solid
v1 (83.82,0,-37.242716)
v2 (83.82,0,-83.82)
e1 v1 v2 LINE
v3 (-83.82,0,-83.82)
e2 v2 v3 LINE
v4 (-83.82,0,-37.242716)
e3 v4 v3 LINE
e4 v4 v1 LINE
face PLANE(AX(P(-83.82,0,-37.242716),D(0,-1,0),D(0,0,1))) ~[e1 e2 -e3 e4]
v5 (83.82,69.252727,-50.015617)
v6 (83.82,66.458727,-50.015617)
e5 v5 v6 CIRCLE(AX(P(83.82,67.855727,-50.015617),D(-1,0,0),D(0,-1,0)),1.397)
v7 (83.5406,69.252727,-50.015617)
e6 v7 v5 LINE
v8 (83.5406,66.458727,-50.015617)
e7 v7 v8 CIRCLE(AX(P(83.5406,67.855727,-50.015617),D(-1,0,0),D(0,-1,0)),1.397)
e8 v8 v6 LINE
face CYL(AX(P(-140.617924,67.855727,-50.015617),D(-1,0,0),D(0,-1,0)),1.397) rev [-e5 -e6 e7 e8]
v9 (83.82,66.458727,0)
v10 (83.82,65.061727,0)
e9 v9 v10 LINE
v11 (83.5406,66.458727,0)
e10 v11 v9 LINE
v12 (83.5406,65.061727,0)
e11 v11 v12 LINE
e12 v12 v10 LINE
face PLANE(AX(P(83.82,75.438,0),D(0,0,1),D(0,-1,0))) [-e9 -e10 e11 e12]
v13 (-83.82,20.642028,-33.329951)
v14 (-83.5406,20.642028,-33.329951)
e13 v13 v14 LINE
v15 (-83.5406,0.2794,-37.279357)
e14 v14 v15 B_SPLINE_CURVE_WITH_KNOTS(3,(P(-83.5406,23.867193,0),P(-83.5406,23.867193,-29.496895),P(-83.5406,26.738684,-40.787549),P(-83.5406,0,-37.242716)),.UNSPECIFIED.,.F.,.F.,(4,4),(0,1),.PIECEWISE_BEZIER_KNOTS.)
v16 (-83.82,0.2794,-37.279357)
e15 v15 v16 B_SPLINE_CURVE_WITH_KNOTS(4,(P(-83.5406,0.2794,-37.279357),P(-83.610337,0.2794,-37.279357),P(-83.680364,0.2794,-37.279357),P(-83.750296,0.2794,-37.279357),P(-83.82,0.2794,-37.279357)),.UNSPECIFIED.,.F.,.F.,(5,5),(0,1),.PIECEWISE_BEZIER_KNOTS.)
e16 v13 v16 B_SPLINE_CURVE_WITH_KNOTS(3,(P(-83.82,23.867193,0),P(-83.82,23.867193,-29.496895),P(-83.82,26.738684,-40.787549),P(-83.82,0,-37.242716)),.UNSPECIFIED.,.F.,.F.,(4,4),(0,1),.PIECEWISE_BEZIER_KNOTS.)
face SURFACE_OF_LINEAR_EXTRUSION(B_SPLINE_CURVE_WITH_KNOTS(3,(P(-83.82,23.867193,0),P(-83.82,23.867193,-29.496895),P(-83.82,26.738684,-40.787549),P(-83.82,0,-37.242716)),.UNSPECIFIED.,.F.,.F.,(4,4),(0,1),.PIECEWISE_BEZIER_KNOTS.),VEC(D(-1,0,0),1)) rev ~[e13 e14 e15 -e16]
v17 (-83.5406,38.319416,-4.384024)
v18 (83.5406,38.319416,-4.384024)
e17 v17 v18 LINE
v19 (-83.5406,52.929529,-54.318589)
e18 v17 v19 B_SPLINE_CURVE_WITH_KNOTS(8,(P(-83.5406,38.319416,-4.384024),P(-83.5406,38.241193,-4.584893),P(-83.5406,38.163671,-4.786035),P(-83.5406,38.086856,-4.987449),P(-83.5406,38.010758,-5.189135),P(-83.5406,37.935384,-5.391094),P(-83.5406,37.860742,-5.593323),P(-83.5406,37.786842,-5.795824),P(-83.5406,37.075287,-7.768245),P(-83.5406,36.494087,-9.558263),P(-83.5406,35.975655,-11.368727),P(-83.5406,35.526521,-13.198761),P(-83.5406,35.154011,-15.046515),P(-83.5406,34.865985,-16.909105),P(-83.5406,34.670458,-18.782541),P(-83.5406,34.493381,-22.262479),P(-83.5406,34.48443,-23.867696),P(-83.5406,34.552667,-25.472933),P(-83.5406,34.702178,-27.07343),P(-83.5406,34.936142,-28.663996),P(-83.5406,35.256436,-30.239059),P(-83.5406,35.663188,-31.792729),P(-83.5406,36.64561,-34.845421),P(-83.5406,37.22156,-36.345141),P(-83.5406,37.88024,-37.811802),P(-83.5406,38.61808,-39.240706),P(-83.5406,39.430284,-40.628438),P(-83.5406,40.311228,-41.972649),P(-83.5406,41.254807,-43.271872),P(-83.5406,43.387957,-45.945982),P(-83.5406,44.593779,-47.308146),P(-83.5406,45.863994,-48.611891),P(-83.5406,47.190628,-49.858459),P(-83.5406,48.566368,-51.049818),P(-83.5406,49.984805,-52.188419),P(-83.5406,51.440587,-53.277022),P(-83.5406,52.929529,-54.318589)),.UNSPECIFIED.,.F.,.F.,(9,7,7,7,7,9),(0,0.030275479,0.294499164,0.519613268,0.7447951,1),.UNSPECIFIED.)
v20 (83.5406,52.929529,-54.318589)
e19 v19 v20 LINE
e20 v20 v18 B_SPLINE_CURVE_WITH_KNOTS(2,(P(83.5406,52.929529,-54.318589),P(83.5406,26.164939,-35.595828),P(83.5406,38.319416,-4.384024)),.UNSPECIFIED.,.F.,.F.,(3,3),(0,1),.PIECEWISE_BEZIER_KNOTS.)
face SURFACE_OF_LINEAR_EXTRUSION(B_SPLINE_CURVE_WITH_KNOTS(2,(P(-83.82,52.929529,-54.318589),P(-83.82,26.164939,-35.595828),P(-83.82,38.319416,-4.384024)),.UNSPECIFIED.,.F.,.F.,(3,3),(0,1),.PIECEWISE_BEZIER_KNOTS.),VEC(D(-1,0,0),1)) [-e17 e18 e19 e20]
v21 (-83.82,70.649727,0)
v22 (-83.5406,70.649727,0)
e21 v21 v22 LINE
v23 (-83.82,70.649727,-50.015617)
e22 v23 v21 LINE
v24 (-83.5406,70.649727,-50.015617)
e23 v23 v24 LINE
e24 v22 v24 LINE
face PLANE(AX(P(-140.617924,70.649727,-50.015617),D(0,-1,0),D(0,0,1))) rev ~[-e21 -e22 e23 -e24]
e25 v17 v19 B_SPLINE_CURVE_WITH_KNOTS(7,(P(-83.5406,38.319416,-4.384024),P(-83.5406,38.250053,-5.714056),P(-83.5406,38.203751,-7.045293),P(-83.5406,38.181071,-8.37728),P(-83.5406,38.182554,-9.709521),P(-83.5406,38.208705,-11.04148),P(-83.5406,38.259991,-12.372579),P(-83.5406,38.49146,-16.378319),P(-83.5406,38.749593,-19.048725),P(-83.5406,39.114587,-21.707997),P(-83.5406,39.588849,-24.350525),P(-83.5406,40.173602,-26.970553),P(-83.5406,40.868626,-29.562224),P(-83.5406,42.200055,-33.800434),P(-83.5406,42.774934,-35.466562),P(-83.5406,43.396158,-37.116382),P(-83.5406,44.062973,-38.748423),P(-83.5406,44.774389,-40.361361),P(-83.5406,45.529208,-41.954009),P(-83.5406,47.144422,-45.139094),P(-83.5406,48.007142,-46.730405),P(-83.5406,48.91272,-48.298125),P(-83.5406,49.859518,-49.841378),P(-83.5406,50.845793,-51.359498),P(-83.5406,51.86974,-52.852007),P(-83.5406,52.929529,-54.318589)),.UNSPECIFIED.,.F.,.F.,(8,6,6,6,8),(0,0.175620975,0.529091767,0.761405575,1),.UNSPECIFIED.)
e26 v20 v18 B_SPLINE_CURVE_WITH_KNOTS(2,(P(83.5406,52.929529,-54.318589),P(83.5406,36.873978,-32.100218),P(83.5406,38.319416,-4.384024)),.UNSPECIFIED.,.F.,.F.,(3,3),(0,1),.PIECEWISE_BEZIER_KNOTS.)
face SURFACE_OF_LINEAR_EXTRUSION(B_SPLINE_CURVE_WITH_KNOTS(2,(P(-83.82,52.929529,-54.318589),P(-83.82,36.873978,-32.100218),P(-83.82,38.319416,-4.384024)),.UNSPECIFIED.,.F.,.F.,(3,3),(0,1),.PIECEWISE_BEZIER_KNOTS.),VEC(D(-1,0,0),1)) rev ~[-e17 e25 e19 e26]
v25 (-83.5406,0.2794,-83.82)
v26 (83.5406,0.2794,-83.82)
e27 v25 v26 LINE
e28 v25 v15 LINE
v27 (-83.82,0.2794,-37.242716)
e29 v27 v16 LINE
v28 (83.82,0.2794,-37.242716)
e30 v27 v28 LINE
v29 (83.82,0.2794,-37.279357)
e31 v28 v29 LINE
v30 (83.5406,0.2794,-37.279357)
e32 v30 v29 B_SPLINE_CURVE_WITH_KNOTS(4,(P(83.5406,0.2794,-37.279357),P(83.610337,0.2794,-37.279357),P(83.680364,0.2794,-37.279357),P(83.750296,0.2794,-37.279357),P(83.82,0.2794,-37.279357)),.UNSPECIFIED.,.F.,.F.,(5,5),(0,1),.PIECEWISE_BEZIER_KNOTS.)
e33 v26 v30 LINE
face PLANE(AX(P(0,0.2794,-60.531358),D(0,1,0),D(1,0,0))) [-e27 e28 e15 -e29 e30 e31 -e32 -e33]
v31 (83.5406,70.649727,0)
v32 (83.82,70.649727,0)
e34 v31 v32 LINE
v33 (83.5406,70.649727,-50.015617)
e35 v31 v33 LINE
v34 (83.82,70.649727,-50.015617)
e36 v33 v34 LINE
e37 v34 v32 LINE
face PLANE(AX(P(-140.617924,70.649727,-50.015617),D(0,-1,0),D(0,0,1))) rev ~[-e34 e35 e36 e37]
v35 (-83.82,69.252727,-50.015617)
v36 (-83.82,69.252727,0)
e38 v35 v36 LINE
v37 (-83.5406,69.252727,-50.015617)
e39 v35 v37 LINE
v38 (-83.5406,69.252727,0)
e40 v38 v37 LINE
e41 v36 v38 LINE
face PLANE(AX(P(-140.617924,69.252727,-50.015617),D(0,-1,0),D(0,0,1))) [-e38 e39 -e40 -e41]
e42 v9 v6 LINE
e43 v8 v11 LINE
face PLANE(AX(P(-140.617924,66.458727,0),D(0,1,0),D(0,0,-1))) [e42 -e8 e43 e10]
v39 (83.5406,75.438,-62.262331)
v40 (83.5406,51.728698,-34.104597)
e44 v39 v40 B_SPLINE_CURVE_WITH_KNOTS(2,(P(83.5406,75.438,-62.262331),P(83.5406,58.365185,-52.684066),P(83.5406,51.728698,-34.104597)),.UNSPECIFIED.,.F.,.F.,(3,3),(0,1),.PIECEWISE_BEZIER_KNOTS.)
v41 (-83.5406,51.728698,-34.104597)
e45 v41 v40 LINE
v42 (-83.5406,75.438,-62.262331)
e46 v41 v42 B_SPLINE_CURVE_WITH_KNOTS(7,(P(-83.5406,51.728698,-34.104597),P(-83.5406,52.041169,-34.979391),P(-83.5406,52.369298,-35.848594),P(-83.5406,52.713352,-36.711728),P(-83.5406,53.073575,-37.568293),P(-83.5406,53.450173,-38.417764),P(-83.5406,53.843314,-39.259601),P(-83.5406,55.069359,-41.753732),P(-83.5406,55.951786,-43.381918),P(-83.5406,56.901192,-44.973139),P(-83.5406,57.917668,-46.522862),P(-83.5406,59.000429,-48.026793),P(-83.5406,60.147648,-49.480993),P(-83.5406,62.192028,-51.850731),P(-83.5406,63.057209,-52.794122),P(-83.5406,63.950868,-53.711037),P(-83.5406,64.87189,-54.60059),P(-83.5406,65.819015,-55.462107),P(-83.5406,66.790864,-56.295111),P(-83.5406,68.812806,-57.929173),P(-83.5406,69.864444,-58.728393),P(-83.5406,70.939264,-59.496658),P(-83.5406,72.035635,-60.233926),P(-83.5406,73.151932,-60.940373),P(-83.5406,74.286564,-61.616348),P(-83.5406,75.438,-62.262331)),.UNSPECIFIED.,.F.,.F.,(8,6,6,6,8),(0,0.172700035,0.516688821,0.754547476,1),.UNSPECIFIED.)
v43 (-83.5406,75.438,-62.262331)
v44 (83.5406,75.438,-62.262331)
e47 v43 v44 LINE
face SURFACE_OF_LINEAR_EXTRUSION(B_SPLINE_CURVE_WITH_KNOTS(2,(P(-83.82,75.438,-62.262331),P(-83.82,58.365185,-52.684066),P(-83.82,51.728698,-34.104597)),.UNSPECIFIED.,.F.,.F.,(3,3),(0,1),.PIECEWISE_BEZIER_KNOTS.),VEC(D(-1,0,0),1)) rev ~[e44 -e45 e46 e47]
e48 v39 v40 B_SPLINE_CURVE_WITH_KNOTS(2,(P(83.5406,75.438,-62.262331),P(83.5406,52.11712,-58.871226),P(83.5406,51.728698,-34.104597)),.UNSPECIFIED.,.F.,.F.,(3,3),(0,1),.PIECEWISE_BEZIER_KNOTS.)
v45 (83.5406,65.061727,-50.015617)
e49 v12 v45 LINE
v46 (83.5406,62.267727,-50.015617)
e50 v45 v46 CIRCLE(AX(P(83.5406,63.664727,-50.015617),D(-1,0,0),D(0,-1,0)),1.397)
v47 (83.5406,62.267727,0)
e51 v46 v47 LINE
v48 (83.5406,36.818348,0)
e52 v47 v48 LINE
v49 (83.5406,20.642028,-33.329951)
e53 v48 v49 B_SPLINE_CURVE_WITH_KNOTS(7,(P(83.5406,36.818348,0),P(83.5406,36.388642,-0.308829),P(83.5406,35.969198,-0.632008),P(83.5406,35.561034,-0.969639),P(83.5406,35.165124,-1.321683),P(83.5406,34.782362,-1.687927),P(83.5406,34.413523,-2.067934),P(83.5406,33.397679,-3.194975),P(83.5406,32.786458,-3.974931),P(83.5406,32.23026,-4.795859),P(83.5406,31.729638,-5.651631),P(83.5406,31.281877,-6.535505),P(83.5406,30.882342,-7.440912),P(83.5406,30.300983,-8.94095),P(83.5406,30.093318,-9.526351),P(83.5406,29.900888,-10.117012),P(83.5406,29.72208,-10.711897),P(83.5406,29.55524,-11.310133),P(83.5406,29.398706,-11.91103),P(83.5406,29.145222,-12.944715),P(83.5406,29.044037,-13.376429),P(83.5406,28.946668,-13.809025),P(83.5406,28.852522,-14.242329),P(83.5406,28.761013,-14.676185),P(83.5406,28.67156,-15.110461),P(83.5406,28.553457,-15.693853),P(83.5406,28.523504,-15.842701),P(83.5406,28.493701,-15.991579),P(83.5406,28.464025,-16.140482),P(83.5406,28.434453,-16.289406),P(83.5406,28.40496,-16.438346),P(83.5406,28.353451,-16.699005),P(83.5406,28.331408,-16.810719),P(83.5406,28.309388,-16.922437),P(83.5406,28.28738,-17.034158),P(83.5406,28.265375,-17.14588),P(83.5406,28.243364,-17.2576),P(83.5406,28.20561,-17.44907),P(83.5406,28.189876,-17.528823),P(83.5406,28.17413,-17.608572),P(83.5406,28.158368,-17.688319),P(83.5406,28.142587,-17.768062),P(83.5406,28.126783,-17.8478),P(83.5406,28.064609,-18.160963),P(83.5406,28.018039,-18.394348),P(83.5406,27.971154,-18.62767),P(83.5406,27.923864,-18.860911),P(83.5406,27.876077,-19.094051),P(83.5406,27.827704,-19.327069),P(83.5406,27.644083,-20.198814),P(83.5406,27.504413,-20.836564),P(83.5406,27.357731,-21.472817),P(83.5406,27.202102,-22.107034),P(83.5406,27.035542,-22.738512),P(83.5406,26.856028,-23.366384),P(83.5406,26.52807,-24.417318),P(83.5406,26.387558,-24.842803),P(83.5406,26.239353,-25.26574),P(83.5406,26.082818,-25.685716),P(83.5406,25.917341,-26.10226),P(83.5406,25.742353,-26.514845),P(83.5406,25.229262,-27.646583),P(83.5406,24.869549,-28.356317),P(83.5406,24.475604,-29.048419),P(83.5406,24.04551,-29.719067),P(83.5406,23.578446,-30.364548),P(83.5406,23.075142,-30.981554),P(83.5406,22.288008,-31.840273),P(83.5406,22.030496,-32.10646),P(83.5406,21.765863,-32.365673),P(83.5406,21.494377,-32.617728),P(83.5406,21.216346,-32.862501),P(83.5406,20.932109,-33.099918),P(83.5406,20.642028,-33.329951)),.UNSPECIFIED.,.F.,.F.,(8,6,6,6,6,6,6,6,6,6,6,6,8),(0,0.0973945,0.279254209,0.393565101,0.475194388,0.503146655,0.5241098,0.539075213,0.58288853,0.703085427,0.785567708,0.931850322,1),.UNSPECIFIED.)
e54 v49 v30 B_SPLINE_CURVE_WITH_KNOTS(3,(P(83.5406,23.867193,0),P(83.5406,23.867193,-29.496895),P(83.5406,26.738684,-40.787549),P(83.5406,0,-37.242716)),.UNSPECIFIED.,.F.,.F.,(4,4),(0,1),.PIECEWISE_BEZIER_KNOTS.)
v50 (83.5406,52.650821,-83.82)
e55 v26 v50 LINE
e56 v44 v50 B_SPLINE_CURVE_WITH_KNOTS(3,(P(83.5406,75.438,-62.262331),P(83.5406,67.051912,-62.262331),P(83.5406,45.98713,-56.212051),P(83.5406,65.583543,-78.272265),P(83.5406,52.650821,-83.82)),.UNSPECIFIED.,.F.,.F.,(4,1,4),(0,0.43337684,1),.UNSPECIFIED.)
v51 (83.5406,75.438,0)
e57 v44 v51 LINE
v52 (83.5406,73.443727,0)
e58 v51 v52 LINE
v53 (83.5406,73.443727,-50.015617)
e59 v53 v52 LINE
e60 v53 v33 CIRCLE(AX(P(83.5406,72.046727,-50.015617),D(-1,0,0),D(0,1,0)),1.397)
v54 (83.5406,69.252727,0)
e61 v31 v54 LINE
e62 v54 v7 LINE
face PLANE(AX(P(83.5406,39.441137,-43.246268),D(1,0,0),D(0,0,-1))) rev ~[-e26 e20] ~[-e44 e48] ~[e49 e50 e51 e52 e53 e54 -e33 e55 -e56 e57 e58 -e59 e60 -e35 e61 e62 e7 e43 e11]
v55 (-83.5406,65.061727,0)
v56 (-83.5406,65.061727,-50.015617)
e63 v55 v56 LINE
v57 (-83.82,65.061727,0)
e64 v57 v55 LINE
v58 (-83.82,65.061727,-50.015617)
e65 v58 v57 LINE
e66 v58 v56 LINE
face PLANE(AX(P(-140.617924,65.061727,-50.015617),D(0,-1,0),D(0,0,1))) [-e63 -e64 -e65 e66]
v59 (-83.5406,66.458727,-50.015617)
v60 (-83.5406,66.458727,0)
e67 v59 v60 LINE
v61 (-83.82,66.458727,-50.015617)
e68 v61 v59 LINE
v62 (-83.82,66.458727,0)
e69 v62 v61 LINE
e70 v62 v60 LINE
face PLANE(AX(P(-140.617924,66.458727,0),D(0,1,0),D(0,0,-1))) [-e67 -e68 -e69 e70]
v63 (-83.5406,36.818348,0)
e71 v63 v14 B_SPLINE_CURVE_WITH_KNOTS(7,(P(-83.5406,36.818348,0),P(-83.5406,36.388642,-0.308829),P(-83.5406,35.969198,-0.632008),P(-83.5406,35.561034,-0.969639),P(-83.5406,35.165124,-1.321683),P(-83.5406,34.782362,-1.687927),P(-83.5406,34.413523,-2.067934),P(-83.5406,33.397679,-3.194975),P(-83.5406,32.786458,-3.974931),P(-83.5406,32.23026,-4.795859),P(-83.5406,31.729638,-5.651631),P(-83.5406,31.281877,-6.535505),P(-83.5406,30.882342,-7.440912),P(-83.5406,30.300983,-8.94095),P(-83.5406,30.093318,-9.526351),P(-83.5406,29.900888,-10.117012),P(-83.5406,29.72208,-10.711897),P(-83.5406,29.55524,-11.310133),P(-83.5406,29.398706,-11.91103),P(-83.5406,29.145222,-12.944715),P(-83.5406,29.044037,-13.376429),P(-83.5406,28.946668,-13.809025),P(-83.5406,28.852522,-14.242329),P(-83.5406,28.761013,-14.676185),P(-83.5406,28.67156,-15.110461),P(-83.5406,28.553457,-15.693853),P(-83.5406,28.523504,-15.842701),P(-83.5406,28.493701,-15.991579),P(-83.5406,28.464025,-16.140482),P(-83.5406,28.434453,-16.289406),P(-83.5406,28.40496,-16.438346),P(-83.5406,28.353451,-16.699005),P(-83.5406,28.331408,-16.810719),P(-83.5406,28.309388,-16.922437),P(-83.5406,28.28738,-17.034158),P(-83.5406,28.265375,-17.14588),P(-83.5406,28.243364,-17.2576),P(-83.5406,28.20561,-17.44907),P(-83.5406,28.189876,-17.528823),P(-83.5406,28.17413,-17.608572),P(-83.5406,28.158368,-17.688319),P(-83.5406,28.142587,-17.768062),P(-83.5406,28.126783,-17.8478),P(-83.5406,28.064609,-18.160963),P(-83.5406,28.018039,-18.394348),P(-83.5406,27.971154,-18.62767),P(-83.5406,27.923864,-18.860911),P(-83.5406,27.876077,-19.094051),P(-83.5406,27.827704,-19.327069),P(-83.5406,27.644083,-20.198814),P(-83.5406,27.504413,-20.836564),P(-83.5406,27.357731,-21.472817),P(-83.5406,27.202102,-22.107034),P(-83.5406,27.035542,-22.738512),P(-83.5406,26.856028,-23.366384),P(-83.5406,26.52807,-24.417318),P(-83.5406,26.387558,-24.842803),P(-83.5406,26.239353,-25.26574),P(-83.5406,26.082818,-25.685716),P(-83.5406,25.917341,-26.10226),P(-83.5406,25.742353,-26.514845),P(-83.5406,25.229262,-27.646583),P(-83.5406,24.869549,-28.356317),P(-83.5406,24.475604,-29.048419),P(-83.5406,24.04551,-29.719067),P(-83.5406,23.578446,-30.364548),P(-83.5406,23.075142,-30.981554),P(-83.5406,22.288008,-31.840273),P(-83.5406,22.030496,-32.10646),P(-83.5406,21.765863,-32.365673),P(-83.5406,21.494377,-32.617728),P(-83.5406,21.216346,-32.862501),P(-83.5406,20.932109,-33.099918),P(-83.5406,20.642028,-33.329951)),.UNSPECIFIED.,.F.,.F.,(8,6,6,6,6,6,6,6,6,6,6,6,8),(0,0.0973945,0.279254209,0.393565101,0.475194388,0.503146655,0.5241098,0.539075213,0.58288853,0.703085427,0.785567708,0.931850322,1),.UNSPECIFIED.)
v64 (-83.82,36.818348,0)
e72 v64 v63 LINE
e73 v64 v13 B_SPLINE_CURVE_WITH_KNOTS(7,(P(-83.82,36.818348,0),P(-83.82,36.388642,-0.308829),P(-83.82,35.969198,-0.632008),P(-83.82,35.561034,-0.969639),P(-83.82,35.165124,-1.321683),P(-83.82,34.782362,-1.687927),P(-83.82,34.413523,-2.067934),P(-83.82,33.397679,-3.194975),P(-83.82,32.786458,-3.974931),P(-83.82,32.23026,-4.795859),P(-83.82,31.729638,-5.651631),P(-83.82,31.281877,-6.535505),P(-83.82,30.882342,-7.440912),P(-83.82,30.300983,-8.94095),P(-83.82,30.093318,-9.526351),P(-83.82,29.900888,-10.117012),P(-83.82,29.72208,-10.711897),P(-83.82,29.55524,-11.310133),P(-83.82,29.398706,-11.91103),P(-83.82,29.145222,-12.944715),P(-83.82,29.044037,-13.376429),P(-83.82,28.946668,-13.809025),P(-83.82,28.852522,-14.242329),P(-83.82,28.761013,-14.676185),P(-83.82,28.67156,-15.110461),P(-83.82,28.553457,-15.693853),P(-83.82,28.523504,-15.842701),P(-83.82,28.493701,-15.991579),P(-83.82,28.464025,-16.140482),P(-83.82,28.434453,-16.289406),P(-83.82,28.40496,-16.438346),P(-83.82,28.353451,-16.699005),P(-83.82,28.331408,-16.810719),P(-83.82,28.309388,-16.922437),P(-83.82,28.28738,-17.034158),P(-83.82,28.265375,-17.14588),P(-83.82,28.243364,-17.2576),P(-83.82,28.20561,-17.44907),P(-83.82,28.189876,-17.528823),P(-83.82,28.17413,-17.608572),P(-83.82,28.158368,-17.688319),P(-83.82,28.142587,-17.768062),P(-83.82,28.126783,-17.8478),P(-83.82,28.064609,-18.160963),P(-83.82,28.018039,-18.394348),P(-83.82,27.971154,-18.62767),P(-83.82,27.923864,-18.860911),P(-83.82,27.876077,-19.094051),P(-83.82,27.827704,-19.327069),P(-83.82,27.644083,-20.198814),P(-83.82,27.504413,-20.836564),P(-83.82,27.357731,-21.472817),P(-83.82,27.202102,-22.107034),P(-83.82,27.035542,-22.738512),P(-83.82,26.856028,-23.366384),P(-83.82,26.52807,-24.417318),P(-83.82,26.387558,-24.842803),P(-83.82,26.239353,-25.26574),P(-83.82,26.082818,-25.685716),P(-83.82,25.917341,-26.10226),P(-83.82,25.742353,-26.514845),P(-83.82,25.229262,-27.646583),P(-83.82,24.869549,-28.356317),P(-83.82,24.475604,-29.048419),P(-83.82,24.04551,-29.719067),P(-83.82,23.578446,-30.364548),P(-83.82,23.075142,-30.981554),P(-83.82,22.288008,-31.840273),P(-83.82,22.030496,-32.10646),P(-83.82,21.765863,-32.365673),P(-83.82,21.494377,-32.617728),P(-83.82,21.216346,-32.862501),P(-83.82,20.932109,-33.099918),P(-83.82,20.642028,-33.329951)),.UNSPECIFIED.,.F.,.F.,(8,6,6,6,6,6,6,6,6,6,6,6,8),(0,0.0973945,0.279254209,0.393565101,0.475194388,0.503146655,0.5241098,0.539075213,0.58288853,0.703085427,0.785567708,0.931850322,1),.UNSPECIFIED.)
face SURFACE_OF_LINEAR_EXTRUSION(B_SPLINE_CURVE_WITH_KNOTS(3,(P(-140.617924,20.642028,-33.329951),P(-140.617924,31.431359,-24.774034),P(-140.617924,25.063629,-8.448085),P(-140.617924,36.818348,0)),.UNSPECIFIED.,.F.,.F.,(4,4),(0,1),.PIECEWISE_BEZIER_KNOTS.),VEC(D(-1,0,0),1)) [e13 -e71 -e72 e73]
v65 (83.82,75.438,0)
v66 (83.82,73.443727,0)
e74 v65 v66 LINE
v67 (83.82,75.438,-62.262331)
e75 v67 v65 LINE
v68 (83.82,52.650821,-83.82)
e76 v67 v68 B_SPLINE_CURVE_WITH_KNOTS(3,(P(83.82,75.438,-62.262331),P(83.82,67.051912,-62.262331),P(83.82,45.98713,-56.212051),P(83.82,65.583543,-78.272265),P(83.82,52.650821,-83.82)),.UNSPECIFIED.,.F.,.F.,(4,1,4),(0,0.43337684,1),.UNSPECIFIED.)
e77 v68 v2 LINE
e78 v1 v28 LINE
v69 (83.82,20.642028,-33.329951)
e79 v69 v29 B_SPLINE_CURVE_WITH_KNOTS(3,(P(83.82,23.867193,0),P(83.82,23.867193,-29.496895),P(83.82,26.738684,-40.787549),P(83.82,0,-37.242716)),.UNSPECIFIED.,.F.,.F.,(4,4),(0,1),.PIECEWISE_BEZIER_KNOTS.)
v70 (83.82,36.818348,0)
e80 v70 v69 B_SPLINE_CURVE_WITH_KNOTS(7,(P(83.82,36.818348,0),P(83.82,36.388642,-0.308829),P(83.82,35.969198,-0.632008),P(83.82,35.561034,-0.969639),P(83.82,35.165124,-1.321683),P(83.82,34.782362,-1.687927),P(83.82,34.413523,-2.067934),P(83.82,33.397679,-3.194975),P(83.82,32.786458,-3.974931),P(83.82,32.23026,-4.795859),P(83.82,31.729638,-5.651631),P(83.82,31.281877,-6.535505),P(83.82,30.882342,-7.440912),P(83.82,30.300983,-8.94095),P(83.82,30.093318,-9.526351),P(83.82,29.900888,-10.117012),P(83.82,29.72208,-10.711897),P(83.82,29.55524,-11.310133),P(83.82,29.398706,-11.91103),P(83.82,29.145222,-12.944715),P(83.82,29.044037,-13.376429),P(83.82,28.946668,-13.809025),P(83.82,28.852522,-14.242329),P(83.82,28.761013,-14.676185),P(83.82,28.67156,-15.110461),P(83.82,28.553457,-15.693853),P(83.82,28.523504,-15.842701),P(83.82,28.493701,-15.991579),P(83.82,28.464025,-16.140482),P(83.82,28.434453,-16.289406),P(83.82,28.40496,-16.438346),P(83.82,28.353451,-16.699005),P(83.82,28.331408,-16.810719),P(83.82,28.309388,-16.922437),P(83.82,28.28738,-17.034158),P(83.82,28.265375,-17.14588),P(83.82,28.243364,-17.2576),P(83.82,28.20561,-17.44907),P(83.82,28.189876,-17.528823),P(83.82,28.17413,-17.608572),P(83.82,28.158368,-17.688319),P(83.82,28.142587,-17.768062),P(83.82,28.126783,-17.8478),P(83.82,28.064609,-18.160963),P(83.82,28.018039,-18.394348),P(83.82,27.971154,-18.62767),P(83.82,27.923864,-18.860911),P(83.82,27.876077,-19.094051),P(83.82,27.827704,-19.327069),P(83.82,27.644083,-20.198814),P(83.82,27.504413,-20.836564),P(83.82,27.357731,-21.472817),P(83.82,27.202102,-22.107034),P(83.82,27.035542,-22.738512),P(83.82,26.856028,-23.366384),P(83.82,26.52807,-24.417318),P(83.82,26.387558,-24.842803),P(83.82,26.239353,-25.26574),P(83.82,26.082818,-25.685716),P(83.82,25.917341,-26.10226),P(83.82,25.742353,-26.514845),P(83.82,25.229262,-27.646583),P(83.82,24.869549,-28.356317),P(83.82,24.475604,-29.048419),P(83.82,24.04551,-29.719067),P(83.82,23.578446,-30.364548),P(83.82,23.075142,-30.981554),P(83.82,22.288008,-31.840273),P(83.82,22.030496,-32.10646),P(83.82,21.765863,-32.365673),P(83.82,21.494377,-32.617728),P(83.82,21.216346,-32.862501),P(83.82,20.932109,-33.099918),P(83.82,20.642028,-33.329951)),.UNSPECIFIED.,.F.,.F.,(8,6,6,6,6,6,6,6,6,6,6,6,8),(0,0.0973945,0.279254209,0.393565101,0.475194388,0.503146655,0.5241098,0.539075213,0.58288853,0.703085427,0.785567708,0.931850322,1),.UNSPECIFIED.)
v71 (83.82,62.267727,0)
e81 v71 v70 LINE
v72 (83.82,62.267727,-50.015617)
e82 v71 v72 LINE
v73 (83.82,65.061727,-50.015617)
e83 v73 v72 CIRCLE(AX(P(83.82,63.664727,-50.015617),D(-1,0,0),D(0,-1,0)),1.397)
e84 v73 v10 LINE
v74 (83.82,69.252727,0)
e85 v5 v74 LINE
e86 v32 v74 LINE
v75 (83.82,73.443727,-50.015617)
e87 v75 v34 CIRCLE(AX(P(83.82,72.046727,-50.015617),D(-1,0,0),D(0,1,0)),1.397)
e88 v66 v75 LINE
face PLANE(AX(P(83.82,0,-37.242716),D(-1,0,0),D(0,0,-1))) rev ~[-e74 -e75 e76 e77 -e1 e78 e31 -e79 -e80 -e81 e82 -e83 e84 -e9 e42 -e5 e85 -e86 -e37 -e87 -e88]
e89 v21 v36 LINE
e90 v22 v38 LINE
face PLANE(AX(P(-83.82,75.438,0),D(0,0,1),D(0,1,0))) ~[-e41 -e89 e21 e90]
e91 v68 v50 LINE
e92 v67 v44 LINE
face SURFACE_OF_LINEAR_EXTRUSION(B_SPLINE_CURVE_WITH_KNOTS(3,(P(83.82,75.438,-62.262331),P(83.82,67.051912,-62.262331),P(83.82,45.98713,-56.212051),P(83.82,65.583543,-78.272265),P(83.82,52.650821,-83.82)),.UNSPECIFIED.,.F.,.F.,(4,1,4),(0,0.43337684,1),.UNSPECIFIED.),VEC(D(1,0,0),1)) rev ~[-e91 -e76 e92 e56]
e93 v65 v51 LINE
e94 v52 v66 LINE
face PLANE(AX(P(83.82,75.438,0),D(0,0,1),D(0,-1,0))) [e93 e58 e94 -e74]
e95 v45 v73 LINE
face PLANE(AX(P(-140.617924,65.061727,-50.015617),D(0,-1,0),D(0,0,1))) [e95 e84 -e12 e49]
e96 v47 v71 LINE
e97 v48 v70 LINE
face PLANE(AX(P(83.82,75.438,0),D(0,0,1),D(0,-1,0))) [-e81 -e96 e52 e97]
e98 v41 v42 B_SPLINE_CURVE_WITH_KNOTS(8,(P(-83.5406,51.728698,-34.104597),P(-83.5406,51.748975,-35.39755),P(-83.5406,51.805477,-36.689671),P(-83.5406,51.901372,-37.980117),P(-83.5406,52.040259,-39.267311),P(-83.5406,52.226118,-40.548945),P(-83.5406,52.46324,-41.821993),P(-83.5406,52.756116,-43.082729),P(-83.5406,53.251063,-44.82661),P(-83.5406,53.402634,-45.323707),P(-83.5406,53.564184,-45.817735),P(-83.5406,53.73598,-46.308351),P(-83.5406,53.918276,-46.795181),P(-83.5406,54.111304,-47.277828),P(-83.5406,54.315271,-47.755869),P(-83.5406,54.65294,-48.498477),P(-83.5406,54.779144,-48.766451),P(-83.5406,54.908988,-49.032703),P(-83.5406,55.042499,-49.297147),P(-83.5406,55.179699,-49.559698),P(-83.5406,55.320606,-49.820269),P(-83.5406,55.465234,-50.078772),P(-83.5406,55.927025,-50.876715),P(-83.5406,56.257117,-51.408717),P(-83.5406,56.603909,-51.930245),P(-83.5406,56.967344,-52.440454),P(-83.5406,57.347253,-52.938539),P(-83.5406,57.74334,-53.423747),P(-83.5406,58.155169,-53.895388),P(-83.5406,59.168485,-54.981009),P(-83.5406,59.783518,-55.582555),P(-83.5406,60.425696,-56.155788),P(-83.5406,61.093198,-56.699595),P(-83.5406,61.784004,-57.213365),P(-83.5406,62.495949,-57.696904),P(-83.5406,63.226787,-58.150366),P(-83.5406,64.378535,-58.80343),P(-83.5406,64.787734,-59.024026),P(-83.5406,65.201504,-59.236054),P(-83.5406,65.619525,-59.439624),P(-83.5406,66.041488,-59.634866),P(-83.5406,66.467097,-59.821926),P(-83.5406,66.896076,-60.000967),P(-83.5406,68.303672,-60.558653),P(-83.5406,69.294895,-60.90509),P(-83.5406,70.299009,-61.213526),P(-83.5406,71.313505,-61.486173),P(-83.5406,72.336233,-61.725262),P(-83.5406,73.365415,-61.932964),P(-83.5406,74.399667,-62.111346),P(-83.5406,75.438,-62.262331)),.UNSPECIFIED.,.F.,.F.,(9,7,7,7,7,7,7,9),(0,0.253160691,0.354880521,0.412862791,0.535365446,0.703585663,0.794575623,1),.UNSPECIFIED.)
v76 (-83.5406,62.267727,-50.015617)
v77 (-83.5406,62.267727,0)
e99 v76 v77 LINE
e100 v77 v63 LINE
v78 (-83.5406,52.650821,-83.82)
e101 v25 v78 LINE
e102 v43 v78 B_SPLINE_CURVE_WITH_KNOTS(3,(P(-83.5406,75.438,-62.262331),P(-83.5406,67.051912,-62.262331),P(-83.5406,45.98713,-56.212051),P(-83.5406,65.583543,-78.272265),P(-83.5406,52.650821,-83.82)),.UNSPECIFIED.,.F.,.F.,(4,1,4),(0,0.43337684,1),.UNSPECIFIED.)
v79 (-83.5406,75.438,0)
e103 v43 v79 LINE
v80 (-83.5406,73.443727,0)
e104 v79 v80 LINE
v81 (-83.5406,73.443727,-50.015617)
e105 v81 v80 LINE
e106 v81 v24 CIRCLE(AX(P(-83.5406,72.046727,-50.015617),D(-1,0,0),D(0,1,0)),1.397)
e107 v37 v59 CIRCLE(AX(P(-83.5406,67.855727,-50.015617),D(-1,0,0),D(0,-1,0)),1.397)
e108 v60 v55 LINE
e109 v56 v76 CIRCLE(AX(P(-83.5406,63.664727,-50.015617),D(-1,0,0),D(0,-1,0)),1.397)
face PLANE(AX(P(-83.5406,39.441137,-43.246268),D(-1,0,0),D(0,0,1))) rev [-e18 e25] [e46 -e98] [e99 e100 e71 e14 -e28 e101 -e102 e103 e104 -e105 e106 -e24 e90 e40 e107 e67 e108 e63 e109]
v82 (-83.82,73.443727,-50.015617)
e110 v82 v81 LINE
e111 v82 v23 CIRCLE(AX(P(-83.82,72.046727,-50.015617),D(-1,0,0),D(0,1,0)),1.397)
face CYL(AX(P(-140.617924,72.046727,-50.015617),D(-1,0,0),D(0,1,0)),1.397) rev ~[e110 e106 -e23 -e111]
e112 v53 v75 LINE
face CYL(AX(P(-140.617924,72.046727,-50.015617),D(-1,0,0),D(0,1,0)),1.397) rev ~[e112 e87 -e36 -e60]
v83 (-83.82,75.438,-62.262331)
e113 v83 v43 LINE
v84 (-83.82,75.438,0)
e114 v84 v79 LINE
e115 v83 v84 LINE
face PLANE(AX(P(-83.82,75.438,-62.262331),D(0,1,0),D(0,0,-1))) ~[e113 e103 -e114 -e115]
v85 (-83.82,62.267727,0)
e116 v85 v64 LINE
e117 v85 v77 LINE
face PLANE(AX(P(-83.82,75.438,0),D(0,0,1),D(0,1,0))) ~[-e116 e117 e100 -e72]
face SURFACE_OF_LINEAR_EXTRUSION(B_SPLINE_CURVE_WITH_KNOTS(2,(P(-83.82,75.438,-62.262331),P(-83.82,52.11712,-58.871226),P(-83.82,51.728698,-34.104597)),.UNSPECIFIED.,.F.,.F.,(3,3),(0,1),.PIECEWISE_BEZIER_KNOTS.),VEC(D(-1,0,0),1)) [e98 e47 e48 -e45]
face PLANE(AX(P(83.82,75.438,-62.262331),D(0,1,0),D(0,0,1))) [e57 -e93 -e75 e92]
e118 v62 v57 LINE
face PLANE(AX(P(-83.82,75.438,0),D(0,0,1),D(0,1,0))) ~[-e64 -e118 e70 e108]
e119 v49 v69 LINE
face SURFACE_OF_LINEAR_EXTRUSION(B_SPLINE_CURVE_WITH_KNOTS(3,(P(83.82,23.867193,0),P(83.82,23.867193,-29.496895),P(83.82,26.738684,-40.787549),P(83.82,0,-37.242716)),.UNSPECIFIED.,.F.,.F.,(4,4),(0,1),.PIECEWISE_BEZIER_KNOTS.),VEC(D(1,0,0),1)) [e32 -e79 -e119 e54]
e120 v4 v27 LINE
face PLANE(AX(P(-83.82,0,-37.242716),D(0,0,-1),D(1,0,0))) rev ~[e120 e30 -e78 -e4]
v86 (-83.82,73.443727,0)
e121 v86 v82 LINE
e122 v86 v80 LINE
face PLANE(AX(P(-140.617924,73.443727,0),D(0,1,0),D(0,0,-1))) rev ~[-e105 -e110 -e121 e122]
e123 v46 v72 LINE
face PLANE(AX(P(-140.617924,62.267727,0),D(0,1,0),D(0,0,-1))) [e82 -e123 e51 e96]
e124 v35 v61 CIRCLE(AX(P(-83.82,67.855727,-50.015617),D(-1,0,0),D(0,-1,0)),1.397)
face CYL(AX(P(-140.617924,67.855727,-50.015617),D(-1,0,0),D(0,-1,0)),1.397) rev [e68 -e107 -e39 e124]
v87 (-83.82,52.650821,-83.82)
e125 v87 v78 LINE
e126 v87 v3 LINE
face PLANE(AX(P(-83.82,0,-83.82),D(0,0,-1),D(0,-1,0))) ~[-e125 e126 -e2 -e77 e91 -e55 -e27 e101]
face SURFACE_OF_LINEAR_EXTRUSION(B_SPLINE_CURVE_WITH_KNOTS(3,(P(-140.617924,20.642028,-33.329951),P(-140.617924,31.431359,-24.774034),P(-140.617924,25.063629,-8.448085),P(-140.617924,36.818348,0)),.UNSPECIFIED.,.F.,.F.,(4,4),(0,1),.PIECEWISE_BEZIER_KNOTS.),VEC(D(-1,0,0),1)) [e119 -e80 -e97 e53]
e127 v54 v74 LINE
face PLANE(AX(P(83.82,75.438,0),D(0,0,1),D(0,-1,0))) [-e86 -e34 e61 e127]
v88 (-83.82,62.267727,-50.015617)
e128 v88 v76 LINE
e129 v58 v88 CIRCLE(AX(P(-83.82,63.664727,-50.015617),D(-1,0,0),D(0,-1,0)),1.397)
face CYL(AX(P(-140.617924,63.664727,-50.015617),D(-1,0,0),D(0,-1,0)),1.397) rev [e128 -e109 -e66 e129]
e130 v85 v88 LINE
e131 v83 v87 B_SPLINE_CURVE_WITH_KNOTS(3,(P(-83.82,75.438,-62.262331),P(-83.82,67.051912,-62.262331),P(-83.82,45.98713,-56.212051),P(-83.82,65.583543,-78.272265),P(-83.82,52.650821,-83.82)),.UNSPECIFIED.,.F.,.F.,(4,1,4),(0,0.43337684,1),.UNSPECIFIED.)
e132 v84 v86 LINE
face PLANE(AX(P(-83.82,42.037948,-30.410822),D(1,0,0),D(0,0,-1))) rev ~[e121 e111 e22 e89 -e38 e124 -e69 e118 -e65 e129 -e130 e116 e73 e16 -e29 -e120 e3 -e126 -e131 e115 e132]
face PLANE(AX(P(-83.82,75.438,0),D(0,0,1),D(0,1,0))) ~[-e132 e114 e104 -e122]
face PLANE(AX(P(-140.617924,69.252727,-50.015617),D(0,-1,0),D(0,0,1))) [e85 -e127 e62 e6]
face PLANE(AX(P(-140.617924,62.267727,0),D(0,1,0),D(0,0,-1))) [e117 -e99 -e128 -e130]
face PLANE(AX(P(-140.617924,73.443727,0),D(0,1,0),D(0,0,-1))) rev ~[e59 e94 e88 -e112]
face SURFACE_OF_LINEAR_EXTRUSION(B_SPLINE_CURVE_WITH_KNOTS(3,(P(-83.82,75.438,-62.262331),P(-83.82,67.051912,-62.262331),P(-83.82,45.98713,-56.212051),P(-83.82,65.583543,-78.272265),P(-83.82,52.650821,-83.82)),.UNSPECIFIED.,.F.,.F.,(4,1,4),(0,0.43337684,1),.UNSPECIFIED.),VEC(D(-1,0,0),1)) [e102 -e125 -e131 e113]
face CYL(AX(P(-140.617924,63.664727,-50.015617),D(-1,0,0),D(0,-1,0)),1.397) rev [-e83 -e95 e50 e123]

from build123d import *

# Parameters (mm, degrees)
BOSS_EXTRUDE1_START        = 762
BOSS_EXTRUDE1_DEPTH        = 2.54
BOSS_EXTRUDE3_DEPTH        = 759.46
BOSS_EXTRUDE3_DEPTH_BACK   = 762
BOSS_EXTRUDE3_2_DEPTH      = 759.46
BOSS_EXTRUDE3_2_DEPTH_BACK = 762
SKETCH13_W                 = 1524
SKETCH13_H                 = 423.429853573
BOSS_EXTRUDE4_DEPTH        = 2.54
CUT_EXTRUDE1_DEPTH         = 1278.344761778
CUT_EXTRUDE1_DEPTH_BACK    = 1278.344761778
CUT_EXTRUDE2_DEPTH         = 1278.344761778
CUT_EXTRUDE2_DEPTH_BACK    = 1278.344761778
SCALE1_SCALE               = 0.11


with BuildPart() as part:
    # Sketch3 → Boss-Extrude1 (new body)
    with BuildSketch(Plane(origin=(0, 0, 0), x_dir=(0, 0, -1), z_dir=(1, 0, 0)).offset(BOSS_EXTRUDE1_START)):
        with BuildLine():
            Line((338.570146427, 0), (762, 0))
            Line((762, 0), (762, 478.643823899))
            add(Edge.make_bspline(
                [(566.02119263, 685.8), (566.02119263, 609.562833411), (511.018643959, 418.064816879), (711.566045078, 596.214023542), (762, 478.643823899)],
                knots=[0, 0, 0, 0, 0.43337684, 1, 1, 1, 1], degree=3))
            Line((566.02119263, 685.8), (0, 685.8))
            Line((0, 685.8), (0, 216.97447871))
            add(Edge.make_bspline(
                [(0, 216.97447871), (268.153594246, 216.97447871), (370.795901917, 243.07894269), (338.570146427, 0)],
                knots=[0, 0, 0, 0, 1, 1, 1, 1], degree=3))
        make_face()
    extrude(amount=-BOSS_EXTRUDE1_DEPTH)


with BuildPart() as body_2:
    # Mirror1: mirrored copy
    add(part.part.mirror(Plane(origin=(0, 0, 0), x_dir=(0, 0, 1), z_dir=(1, 0, 0))))


with BuildPart() as body_3:
    # Sketch8 → Boss-Extrude3 (new, two sides: drawn at the far end of the back side and taken through both)
    with BuildSketch(Plane(origin=(0, 0, 0), x_dir=(0, 0, -1), z_dir=(1, 0, 0)).offset(-BOSS_EXTRUDE3_DEPTH_BACK)):
        with BuildLine():
            add(Edge.make_bspline(
                [(566.02119263, 685.8), (478.94605907, 530.59259106), (310.041791286, 470.260887435)],
                knots=[0, 0, 0, 1, 1, 1], degree=2))
            add(Edge.make_bspline(
                [(566.02119263, 685.8), (535.192963113, 473.791997419), (310.041791286, 470.260887435)],
                knots=[0, 0, 0, 1, 1, 1], degree=2))
        make_face()
    extrude(amount=BOSS_EXTRUDE3_DEPTH + BOSS_EXTRUDE3_DEPTH_BACK)


with BuildPart() as body_4:
    # Sketch8 → Boss-Extrude3 2 (new, two sides: drawn at the far end of the back side and taken through both)
    with BuildSketch(Plane(origin=(0, 0, 0), x_dir=(0, 0, -1), z_dir=(1, 0, 0)).offset(-BOSS_EXTRUDE3_2_DEPTH_BACK)):
        with BuildLine():
            add(Edge.make_bspline(
                [(493.805357443, 481.17753493), (291.820165627, 335.217986135), (39.854765798, 348.358323747)],
                knots=[0, 0, 0, 1, 1, 1], degree=2))
            add(Edge.make_bspline(
                [(493.805357443, 481.17753493), (323.598432885, 237.863082713), (39.854765798, 348.358323747)],
                knots=[0, 0, 0, 1, 1, 1], degree=2))
        make_face()
    extrude(amount=BOSS_EXTRUDE3_2_DEPTH + BOSS_EXTRUDE3_2_DEPTH_BACK)


with BuildPart() as part_1:
    add(part.part)

    add(body_2.part)  # Boss-Extrude4 merges body 2
    # Sketch13 → Boss-Extrude4 (add)
    with BuildSketch(Plane(origin=(0, 0, 0), x_dir=(1, 0, 0), z_dir=(0, 1, 0))):
        with Locations((0, 550.285073214)):
            Rectangle(SKETCH13_W, SKETCH13_H)
    extrude(amount=BOSS_EXTRUDE4_DEPTH)

    # Sketch16 → Cut-Extrude1 (cut, two sides: drawn at the far end of the back side and taken through both)
    with BuildSketch(Plane(origin=(0, 0, 0), x_dir=(0, 0, -1), z_dir=(1, 0, 0)).offset(-CUT_EXTRUDE1_DEPTH_BACK)):
        with BuildLine():
            Line((0, 667.670249742), (454.687424311, 667.670249742))
            ThreePointArc((454.687424311, 667.670249742), (467.387424311, 654.970249742), (454.687424311, 642.270249742))
            Line((454.687424311, 642.270249742), (0, 642.270249742))
            ThreePointArc((0, 642.270249742), (-12.7, 654.970249742), (0, 667.670249742))
        make_face()
        with BuildLine():
            Line((0, 604.170249742), (454.687424311, 604.170249742))
            ThreePointArc((454.687424311, 604.170249742), (467.387424311, 616.870249742), (454.687424311, 629.570249742))
            Line((454.687424311, 629.570249742), (0, 629.570249742))
            ThreePointArc((0, 629.570249742), (-12.7, 616.870249742), (0, 604.170249742))
        make_face()
        with BuildLine():
            Line((0, 566.070249742), (454.687424311, 566.070249742))
            ThreePointArc((454.687424311, 566.070249742), (467.387424311, 578.770249742), (454.687424311, 591.470249742))
            Line((454.687424311, 591.470249742), (0, 591.470249742))
            ThreePointArc((0, 591.470249742), (-12.7, 578.770249742), (0, 566.070249742))
        make_face()
    extrude(amount=CUT_EXTRUDE1_DEPTH + CUT_EXTRUDE1_DEPTH_BACK, mode=Mode.SUBTRACT)

    # Sketch17 → Cut-Extrude2 (cut, two sides: drawn at the far end of the back side and taken through both)
    with BuildSketch(Plane(origin=(0, 0, 0), x_dir=(0, 0, -1), z_dir=(1, 0, 0)).offset(-CUT_EXTRUDE2_DEPTH_BACK)):
        with BuildLine():
            Line((0, 334.71225841), (0, 103.643051311))
            Line((0, 103.643051311), (302.999558796, 187.654799067))
            add(Edge.make_bspline(
                [(302.999558796, 187.654799067), (225.21849282, 285.739628908), (76.800772912, 227.85117527), (0, 334.71225841)],
                knots=[0, 0, 0, 0, 1, 1, 1, 1], degree=3))
        make_face()
    extrude(amount=CUT_EXTRUDE2_DEPTH + CUT_EXTRUDE2_DEPTH_BACK, mode=Mode.SUBTRACT)

    # Combine1: union body 4, body 3
    add(body_4.part)
    add(body_3.part)


with BuildPart() as part_2:
    # Scale1: scaled about (0, 0, 0)
    add(part_1.part.scale(SCALE1_SCALE))


solid = part_2.part
